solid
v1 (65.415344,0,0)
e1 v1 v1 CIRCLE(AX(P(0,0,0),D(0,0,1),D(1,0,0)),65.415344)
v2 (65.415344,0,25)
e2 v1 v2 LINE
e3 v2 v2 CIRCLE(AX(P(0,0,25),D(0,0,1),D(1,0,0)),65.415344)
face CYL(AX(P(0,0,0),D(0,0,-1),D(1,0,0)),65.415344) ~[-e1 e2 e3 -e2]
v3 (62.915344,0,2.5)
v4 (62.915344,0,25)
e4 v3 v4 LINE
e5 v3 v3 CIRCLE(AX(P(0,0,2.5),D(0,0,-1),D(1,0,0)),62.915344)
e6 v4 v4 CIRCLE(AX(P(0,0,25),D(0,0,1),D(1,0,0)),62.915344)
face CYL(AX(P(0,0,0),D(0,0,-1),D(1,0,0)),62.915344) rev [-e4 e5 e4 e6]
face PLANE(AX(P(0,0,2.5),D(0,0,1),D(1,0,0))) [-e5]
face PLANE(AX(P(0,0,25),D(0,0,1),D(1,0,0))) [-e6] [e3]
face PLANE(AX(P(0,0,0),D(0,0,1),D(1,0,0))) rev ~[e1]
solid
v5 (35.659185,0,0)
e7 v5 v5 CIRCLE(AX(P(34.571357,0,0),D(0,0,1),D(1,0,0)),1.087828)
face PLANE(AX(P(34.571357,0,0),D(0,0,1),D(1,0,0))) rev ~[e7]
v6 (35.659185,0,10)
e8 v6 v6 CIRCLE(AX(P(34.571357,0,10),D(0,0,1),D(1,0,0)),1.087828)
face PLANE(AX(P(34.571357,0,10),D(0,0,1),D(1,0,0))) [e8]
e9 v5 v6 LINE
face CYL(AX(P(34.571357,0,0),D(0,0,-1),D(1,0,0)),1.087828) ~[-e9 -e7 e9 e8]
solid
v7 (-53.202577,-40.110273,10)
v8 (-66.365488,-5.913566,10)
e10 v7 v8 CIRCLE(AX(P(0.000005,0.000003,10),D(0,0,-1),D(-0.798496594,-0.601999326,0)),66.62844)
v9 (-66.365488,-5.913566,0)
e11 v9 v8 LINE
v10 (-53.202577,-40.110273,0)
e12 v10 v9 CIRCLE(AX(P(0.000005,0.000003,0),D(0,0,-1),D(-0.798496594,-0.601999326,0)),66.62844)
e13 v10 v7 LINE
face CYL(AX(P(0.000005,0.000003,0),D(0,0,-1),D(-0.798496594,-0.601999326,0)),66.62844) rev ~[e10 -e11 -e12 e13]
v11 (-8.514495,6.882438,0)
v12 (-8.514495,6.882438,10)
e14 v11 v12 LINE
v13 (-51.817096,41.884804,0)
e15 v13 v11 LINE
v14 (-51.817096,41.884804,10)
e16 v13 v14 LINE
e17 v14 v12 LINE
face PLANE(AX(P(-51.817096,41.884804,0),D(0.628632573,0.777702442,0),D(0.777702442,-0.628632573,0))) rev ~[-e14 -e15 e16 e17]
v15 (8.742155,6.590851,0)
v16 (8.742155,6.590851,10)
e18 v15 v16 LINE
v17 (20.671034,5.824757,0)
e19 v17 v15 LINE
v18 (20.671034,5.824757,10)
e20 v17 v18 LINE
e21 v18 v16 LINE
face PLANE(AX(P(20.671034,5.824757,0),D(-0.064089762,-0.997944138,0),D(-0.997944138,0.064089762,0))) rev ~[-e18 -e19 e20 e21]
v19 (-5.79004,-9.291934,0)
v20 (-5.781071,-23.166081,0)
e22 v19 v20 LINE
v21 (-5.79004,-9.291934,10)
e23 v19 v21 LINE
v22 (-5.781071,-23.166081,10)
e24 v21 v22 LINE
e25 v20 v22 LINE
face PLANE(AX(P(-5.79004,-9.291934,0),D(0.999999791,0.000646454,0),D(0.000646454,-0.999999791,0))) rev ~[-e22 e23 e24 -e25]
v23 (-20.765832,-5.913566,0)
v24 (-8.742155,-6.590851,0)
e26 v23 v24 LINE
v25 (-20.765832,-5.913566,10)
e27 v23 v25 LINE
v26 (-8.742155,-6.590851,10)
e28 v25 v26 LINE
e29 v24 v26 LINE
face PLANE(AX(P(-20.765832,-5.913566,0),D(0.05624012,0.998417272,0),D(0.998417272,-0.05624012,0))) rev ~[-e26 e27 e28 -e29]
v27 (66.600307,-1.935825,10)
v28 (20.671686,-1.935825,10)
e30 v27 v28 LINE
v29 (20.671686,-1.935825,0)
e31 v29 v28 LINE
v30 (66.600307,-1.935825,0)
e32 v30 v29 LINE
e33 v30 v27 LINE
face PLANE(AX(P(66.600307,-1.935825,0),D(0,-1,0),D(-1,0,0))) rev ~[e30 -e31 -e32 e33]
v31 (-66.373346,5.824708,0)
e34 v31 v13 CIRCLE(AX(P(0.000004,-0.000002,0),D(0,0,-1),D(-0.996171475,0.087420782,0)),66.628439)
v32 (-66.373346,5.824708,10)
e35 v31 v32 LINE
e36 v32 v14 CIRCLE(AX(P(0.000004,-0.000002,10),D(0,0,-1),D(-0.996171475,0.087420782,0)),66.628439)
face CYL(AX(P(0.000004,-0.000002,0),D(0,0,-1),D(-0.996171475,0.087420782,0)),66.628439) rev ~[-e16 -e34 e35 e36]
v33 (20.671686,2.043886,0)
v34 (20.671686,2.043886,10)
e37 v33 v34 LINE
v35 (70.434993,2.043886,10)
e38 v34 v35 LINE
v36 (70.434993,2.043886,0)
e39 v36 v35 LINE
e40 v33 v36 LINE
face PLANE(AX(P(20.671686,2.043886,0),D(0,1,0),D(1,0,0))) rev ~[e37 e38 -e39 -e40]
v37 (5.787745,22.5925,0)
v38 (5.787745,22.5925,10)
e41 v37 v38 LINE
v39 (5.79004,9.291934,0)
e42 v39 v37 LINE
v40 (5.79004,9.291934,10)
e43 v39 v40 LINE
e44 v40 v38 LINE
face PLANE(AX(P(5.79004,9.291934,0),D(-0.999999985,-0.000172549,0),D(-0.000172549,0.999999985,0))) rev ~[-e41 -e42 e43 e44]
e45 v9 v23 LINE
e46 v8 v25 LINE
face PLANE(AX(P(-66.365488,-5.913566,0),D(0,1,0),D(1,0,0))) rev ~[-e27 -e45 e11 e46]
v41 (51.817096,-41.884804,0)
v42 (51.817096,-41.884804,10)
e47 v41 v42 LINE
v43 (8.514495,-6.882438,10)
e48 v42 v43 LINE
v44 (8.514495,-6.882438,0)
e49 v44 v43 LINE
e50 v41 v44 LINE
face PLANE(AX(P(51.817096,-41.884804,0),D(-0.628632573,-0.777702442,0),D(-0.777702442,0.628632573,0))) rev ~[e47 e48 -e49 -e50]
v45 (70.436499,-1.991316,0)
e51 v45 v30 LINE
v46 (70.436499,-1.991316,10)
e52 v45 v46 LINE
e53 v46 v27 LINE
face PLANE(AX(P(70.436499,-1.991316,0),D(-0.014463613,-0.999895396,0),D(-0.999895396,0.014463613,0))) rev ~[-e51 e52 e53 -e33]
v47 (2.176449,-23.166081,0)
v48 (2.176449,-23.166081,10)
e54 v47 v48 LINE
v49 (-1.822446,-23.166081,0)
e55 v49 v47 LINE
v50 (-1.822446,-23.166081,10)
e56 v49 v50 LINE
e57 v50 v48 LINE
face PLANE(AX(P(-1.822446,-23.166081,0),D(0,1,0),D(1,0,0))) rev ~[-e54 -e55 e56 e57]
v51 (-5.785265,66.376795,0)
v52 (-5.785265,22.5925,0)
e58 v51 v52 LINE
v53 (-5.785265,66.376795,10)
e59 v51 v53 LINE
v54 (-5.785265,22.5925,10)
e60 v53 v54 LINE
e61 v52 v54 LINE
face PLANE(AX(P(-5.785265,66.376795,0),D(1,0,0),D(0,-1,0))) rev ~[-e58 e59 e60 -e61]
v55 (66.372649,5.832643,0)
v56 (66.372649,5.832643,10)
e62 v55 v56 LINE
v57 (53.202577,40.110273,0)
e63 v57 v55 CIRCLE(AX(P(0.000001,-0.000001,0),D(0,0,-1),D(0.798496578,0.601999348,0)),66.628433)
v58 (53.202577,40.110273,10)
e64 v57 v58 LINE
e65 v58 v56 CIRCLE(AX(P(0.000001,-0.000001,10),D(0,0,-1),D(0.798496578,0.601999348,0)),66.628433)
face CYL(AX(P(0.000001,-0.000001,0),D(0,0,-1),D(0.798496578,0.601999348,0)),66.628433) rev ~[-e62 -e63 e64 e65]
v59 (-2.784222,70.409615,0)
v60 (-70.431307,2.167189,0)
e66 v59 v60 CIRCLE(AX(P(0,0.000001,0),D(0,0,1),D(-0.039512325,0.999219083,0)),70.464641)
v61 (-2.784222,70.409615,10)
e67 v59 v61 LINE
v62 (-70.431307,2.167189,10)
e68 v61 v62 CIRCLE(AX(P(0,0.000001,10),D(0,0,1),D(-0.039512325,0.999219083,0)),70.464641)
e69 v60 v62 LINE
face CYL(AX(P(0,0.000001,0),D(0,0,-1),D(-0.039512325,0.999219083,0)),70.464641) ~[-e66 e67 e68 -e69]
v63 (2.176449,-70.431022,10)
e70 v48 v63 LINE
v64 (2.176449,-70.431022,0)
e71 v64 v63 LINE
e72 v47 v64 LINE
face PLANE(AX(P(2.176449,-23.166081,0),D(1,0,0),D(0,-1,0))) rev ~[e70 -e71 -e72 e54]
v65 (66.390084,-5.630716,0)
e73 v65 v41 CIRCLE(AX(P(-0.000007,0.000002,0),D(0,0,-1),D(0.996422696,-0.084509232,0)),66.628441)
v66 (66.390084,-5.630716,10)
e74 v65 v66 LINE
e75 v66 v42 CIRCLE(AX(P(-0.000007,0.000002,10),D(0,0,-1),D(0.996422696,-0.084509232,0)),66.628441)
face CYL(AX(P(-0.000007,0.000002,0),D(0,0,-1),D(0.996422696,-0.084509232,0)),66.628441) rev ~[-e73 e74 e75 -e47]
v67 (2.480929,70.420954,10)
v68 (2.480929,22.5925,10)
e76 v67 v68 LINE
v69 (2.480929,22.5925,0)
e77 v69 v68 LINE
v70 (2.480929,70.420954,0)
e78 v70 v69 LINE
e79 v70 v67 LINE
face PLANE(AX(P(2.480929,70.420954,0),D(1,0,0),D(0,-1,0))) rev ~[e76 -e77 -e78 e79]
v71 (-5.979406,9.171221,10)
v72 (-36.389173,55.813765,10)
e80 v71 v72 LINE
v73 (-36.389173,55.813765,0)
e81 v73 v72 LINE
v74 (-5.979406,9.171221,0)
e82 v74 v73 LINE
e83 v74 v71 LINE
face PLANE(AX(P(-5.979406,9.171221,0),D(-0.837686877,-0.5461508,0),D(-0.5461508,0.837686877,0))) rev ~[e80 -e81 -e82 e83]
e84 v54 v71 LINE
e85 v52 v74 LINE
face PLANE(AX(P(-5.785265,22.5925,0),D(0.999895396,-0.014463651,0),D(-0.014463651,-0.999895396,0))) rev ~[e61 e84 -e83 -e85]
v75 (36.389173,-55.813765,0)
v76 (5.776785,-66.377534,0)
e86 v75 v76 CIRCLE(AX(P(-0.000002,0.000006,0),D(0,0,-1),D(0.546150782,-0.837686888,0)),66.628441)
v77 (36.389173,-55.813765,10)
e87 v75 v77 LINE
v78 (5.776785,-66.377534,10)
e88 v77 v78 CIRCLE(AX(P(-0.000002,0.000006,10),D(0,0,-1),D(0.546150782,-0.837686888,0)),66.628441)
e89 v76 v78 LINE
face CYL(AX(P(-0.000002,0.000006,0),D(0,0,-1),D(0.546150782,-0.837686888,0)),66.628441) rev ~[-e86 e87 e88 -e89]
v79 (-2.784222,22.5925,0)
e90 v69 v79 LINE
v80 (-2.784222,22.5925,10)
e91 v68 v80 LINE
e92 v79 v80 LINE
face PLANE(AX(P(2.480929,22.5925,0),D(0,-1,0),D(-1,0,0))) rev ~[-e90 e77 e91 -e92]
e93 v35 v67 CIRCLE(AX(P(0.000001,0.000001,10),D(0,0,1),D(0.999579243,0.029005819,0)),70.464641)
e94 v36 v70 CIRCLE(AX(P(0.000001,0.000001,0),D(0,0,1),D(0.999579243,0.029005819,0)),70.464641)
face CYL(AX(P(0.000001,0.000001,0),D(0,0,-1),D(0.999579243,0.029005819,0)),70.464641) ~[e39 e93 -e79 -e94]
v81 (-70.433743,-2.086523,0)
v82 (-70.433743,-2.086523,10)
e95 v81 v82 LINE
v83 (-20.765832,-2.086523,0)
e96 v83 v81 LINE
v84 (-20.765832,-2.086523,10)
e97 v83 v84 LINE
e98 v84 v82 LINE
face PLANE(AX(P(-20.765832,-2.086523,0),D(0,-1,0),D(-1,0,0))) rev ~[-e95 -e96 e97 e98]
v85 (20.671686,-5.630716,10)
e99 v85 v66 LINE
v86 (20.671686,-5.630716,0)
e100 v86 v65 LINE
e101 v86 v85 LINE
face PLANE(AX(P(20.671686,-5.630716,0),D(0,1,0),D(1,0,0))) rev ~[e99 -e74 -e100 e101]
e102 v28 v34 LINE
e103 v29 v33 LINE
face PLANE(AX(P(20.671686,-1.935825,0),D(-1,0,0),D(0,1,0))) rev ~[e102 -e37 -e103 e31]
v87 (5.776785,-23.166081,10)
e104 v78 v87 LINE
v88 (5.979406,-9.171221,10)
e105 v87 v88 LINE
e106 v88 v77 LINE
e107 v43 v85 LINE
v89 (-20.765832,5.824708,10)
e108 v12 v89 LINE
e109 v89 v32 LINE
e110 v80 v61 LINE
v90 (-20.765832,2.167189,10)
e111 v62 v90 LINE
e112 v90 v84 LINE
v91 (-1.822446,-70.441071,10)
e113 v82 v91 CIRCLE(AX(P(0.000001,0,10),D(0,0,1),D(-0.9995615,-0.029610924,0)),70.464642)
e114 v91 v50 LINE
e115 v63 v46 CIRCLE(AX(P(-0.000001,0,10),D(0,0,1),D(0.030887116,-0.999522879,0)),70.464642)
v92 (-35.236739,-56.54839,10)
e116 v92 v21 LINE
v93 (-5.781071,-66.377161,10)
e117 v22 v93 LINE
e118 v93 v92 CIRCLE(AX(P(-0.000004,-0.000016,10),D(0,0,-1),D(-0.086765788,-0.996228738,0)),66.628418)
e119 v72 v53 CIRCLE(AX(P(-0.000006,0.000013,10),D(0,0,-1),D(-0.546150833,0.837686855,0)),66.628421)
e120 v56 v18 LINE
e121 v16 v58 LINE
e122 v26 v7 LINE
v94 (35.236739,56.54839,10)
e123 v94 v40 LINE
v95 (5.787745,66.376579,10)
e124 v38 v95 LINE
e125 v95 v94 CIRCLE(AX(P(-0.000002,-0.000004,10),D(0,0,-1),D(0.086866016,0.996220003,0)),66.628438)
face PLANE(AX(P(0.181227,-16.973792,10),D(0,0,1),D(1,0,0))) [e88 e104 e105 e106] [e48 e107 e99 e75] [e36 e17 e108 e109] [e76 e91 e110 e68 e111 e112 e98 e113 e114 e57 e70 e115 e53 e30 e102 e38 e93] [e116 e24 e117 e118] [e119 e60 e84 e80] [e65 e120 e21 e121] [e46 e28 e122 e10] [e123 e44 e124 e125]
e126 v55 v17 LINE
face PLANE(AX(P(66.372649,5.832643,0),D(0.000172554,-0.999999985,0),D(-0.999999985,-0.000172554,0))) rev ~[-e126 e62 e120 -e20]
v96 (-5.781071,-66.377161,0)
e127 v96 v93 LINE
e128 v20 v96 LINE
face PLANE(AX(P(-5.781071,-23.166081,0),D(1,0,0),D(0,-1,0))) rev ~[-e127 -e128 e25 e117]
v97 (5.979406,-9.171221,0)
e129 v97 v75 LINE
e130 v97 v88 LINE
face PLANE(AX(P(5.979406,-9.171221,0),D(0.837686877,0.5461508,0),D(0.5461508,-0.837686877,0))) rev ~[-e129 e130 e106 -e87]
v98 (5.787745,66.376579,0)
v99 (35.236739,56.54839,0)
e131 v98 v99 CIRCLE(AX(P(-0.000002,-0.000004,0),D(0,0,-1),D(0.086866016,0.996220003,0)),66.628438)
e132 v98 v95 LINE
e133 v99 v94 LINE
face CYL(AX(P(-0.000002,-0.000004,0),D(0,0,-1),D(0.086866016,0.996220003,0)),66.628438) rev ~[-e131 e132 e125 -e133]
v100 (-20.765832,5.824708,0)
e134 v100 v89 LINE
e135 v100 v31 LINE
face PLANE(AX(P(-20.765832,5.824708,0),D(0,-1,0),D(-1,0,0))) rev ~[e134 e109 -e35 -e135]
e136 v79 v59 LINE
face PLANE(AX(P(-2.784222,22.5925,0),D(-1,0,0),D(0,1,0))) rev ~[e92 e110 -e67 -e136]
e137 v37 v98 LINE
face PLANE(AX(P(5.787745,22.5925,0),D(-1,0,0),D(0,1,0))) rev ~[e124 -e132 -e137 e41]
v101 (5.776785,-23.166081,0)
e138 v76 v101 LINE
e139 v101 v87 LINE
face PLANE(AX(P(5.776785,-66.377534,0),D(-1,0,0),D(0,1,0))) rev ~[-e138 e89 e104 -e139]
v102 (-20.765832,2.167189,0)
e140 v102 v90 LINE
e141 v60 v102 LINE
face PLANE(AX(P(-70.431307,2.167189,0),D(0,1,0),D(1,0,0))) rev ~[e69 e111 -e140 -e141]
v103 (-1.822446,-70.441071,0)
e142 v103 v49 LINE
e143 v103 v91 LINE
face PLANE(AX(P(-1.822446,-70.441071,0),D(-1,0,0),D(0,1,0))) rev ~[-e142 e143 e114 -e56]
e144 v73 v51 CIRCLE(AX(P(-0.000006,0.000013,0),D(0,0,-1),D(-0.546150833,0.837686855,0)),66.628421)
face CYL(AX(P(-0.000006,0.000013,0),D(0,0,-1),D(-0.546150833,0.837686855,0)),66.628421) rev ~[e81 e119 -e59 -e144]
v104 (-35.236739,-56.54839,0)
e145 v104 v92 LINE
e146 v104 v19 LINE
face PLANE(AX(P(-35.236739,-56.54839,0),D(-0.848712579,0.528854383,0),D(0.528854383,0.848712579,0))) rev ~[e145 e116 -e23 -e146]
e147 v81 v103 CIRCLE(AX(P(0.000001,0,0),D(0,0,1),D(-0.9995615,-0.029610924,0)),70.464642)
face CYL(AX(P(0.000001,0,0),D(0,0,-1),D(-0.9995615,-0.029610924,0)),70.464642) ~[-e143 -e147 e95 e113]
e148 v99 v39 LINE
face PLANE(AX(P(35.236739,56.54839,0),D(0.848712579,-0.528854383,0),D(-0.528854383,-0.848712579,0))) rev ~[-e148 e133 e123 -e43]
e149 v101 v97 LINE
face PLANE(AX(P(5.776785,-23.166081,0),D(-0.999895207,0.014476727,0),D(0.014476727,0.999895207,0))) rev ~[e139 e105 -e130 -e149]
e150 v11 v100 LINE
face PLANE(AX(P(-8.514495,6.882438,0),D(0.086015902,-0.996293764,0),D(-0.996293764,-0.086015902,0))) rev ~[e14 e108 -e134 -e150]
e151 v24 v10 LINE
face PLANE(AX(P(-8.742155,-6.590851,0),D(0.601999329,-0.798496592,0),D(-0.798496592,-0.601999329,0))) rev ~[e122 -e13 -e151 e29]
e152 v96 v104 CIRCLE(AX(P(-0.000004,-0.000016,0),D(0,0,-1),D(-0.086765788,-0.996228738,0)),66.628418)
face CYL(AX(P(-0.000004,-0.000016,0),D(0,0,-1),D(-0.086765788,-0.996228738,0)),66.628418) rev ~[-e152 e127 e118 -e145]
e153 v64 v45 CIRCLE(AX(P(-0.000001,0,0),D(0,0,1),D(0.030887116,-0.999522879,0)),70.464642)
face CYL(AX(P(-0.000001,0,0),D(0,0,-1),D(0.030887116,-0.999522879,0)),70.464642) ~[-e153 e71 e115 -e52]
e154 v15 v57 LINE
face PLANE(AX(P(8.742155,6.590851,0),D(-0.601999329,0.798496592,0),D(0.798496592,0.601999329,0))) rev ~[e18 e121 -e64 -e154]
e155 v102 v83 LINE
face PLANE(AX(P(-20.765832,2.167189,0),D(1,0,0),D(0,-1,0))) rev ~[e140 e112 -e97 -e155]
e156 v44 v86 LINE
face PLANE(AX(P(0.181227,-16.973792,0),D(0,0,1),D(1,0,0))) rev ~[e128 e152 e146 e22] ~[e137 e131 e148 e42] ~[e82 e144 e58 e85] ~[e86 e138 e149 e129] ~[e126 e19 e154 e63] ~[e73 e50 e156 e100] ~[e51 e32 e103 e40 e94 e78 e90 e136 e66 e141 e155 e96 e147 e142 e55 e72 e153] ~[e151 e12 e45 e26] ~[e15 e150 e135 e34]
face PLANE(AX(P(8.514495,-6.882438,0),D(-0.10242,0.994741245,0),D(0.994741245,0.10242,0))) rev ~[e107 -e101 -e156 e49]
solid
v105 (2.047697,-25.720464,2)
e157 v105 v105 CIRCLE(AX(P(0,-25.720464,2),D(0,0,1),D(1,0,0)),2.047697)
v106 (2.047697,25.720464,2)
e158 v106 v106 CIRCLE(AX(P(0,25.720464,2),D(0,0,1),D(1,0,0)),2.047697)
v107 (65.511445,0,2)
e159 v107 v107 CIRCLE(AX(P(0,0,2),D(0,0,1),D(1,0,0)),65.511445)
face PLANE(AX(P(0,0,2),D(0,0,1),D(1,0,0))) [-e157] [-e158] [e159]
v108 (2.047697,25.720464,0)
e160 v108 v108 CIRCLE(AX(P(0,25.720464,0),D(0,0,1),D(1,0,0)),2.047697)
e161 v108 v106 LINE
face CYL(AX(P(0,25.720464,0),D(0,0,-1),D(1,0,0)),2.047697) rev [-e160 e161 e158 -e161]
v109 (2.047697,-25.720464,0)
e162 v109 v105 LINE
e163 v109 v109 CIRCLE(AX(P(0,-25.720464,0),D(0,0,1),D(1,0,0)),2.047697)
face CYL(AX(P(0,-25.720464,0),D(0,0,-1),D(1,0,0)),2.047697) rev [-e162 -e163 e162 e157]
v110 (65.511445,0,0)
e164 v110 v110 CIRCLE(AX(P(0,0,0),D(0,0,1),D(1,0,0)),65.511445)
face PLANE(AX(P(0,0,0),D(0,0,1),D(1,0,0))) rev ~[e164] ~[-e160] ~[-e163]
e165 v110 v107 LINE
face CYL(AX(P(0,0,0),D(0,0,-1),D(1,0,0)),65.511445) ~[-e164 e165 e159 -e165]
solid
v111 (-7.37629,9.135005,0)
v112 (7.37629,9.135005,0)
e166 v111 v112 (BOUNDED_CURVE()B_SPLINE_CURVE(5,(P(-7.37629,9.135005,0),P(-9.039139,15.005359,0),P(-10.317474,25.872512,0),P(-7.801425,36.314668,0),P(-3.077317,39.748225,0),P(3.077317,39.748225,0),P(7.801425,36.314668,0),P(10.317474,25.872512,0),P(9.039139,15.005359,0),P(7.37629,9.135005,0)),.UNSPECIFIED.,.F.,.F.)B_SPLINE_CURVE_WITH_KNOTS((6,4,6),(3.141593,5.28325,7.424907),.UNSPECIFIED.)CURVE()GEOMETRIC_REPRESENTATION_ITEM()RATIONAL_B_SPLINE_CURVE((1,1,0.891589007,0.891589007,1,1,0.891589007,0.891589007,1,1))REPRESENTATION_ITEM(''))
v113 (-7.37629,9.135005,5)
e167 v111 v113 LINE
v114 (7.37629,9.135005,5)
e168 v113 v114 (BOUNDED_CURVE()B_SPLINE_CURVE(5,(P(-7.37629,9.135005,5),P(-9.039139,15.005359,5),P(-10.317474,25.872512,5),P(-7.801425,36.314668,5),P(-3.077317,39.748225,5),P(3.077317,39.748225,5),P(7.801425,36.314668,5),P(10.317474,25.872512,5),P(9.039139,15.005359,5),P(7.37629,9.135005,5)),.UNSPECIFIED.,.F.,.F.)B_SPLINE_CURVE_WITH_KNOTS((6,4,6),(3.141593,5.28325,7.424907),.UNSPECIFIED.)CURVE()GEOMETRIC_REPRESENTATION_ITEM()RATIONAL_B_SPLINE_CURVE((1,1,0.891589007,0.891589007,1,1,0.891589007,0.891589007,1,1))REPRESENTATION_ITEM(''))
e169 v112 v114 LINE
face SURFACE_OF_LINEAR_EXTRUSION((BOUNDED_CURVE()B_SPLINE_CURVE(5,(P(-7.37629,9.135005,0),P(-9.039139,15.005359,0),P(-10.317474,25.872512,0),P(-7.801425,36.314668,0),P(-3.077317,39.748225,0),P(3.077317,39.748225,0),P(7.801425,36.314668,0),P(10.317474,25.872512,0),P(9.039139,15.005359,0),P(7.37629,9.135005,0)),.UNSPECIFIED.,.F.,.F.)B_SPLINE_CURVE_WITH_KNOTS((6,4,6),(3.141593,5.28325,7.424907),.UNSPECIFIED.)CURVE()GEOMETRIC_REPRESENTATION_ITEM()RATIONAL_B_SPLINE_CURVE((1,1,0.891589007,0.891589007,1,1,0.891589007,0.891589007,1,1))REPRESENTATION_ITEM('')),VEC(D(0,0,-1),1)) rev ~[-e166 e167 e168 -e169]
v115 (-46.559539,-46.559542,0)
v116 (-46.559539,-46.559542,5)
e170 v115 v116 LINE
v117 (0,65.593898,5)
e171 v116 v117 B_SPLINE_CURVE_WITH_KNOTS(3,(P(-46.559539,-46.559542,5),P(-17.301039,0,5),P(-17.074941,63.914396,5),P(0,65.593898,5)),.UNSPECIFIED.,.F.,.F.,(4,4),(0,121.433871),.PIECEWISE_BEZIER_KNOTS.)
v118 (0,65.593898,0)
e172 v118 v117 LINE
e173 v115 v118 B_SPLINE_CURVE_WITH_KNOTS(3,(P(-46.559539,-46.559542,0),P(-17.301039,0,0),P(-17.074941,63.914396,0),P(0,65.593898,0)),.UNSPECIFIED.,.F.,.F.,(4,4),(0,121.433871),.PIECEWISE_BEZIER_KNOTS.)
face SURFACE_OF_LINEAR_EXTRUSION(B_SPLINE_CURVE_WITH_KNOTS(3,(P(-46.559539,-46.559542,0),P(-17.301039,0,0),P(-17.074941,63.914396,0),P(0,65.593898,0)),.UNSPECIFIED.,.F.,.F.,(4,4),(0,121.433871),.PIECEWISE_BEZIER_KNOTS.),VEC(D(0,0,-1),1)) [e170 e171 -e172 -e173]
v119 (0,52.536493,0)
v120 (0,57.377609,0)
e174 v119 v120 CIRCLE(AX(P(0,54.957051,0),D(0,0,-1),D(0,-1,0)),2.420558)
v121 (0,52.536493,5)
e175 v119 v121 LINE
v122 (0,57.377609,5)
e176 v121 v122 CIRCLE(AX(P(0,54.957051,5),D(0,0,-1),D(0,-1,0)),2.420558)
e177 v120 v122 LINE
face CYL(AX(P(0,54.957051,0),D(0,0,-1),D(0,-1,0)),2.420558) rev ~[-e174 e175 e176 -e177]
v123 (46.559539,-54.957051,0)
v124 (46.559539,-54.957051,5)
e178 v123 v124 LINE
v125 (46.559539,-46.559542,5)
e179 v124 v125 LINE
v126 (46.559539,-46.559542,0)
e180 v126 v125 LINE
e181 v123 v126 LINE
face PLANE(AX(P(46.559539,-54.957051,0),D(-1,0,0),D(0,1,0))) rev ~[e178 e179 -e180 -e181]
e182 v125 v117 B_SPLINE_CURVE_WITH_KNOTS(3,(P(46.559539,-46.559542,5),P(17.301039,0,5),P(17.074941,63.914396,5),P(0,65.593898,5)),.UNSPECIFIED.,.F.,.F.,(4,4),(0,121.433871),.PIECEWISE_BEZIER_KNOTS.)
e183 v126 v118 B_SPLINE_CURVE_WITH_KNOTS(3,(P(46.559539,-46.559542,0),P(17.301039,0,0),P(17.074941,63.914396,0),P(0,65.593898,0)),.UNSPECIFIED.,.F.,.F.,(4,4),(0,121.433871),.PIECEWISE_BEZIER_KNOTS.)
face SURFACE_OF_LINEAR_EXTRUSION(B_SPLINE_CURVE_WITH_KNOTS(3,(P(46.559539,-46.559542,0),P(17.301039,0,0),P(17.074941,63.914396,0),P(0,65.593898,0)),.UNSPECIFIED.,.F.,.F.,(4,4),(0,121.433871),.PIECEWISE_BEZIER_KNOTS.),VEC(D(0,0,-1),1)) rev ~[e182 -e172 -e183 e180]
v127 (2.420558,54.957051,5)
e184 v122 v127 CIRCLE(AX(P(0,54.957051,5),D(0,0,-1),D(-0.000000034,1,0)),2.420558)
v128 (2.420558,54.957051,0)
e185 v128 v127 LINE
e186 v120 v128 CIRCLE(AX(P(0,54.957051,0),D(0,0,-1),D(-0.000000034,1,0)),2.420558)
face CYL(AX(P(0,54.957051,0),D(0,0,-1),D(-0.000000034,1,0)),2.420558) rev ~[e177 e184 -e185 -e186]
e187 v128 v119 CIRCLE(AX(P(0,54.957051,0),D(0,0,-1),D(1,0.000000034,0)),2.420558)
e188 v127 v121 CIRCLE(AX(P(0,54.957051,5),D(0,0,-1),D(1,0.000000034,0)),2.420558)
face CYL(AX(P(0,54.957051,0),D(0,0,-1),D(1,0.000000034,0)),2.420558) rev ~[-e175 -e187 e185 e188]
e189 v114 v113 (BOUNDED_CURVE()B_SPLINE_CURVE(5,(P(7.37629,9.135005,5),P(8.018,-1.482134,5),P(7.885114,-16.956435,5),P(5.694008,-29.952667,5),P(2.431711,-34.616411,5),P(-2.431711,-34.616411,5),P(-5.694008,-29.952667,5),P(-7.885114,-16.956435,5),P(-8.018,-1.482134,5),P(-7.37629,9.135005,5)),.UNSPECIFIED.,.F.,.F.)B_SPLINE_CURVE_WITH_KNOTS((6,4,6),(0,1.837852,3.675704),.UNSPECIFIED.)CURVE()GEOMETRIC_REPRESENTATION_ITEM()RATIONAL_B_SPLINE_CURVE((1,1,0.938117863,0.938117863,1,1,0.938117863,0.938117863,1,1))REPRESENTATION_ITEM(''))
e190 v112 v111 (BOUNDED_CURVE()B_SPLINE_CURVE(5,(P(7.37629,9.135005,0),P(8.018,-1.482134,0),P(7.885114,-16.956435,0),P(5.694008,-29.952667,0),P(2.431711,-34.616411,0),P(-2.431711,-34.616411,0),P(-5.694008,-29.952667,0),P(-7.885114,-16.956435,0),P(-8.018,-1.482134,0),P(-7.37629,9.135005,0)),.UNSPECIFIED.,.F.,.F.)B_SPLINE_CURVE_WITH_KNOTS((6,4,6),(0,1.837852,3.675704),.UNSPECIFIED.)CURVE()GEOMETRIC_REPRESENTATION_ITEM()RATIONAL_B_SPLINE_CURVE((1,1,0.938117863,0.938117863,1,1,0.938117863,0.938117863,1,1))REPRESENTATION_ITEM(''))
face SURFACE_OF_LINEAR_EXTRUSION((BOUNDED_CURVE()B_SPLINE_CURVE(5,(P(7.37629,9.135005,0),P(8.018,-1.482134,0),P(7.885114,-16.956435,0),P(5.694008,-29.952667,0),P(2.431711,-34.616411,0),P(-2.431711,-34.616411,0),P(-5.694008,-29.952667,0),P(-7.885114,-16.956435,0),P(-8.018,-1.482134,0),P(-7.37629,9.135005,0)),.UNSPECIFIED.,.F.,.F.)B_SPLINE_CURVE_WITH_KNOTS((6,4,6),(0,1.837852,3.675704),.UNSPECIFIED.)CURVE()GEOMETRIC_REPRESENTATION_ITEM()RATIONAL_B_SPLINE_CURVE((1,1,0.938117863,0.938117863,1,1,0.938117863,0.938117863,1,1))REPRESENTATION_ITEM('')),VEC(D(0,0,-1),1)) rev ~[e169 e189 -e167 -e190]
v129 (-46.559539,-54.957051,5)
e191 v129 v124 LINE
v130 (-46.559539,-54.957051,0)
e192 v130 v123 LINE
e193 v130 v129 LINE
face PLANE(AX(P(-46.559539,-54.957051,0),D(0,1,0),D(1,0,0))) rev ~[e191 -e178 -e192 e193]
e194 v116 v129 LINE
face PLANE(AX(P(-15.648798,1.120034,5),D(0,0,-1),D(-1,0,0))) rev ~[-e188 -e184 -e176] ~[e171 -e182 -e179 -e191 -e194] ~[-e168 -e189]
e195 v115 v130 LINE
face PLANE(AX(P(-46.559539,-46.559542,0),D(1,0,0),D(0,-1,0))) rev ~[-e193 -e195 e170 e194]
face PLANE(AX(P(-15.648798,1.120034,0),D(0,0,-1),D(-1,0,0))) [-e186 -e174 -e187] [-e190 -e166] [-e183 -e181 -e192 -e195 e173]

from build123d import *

# Parameters (mm, degrees)
F1_R     = 65.415344
F2_DEPTH = 25
F3_T     = -2.5
F4_R     = 65.511445
F4_R_2   = 2.047697
F5_DEPTH = 2
F7_DEPTH = 5
F0_W     = 7.06006
F0_H     = 3.979711
F0_R     = 1.087828
F8_DEPTH = 10


with BuildPart() as f2:
    # F1 (on Top) → F2 (new body)
    with BuildSketch(Plane.XY):
        Circle(F1_R)
    extrude(amount=F2_DEPTH)

    # F3
    f3_openings = [f2.faces().sort_by_distance(p)[0] for p in [
        (0, 0, 25),
    ]]
    offset(amount=F3_T, openings=f3_openings)


with BuildPart() as f5:
    # F4 (on Top) → F5 (new body)
    with BuildSketch(Plane.XY):
        Circle(F4_R)
        with Locations((0, -25.720464)):
            Circle(F4_R_2, mode=Mode.SUBTRACT)
        with Locations((0, 25.720464)):
            Circle(F4_R_2, mode=Mode.SUBTRACT)
    extrude(amount=F5_DEPTH)


with BuildPart() as f7:
    # F6 (on Top) → F7 (new body)
    with BuildSketch(Plane.XY):
        with BuildLine():
            add(Edge.make_bspline(
                [(-46.559539, -46.559542), (-17.301039, 0), (-17.074941, 63.914396), (0, 65.593898)],
                knots=[0, 0, 0, 0, 121.433871, 121.433871, 121.433871, 121.433871], degree=3))
            Line((-46.559539, -46.559542), (0, -46.559542))
            Line((0, -46.559542), (0, -34.616411))
            add(Edge.make_bspline(
                [(-7.37629, 9.135005), (-10.020666, -34.616411), (0, -34.616411)],
                knots=[4.445334, 4.445334, 4.445334, 6.283185, 6.283185, 6.283185], degree=2, weights=[1, 0.606674, 1]))
            add(Edge.make_bspline(
                [(0, 39.748225), (-16.047853, 39.748225), (-7.37629, 9.135005)],
                knots=[3.141593, 3.141593, 3.141593, 5.28325, 5.28325, 5.28325], degree=2, weights=[1, 0.479397, 1]))
            Line((0, 39.748225), (0, 52.536493))
            ThreePointArc((0, 52.536493), (-2.420558, 54.957051), (0, 57.377609))
            Line((0, 57.377609), (0, 65.593898))
        make_face()
        Polygon((0, -46.559542), (-46.559539, -46.559542), (-46.559539, -54.957051), (46.559539, -54.957051), (46.559539, -46.559542), align=None)
        with BuildLine():
            Line((0, -34.616411), (0, -46.559542))
            Line((0, -46.559542), (46.559539, -46.559542))
            add(Edge.make_bspline(
                [(46.559539, -46.559542), (17.301039, 0), (17.074941, 63.914396), (0, 65.593898)],
                knots=[0, 0, 0, 0, 121.433871, 121.433871, 121.433871, 121.433871], degree=3))
            Line((0, 65.593898), (0, 57.377609))
            ThreePointArc((0, 57.377609), (1.711593, 56.668644), (2.420558, 54.957051))
            ThreePointArc((2.420558, 54.957051), (1.711593, 53.245458), (0, 52.536493))
            Line((0, 52.536493), (0, 39.748225))
            add(Edge.make_bspline(
                [(7.37629, 9.135005), (16.047853, 39.748225), (0, 39.748225)],
                knots=[0.999935, 0.999935, 0.999935, 3.141593, 3.141593, 3.141593], degree=2, weights=[1, 0.479397, 1]))
            add(Edge.make_bspline(
                [(0, -34.616411), (10.020666, -34.616411), (7.37629, 9.135005)],
                knots=[0, 0, 0, 1.837852, 1.837852, 1.837852], degree=2, weights=[1, 0.606674, 1]))
        make_face()
    extrude(amount=F7_DEPTH)


with BuildPart() as f8:
    # F0 (on Top) → F8 (new body)
    with BuildSketch(Plane.XY):
        with BuildLine():
            Line((-1.822446, -23.166081), (2.176449, -23.166081))
            Line((2.176449, -23.166081), (2.176449, -10.729756))
            ThreePointArc((2.176449, -10.729756), (0.18003, -10.946789), (-1.822446, -10.795521))
            Line((-1.822446, -10.795521), (-1.822446, -23.166081))
        make_face()
        with BuildLine():
            Line((20.671686, 2.043886), (66.597078, 2.043886))
            ThreePointArc((66.597078, 2.043886), (66.511847, 3.939863), (66.372649, 5.832643))
            Line((66.372649, 5.832643), (20.671034, 5.824757))
            Line((20.671034, 5.824757), (20.671686, 2.043886))
        make_face()
        with BuildLine():
            ThreePointArc((-53.202577, -40.110273), (-44.977006, -49.157066), (-35.236739, -56.54839))
            Line((-35.236739, -56.54839), (-5.79004, -9.291934))
            ThreePointArc((-5.79004, -9.291934), (-7.390544, -8.077404), (-8.742155, -6.590851))
            Line((-8.742155, -6.590851), (-53.202577, -40.110273))
        make_face()
        with BuildLine():
            Line((5.787745, 22.5925), (2.480929, 22.5925))
            Line((2.480929, 22.5925), (2.480929, 10.663469))
            ThreePointArc((2.480929, 10.663469), (4.191958, 10.113955), (5.79004, 9.291934))
            Line((5.79004, 9.291934), (5.787745, 22.5925))
        make_face()
        with BuildLine():
            Line((2.176449, -23.166081), (2.176449, -66.592877))
            ThreePointArc((2.176449, -66.592877), (3.978074, -66.509572), (5.776785, -66.377534))
            Line((5.776785, -66.377534), (5.776785, -23.166081))
            Line((5.776785, -23.166081), (2.176449, -23.166081))
        make_face()
        with BuildLine():
            Line((-2.784222, 10.588328), (-2.784222, 22.5925))
            Line((-2.784222, 22.5925), (-5.785265, 22.5925))
            Line((-5.785265, 22.5925), (-5.979406, 9.171221))
            ThreePointArc((-5.979406, 9.171221), (-4.438732, 10.008109), (-2.784222, 10.588328))
        make_face()
        with BuildLine():
            Line((2.176449, -10.729756), (2.176449, -23.166081))
            Line((2.176449, -23.166081), (5.776785, -23.166081))
            Line((5.776785, -23.166081), (5.979406, -9.171221))
            ThreePointArc((5.979406, -9.171221), (4.151716, -10.13054), (2.176449, -10.729756))
        make_face()
        with BuildLine():
            Line((-5.979406, 9.171221), (-36.389173, 55.813765))
            ThreePointArc((-36.389173, 55.813765), (-44.649641, 49.454603), (-51.817096, 41.884804))
            Line((-51.817096, 41.884804), (-8.514495, 6.882438))
            ThreePointArc((-8.514495, 6.882438), (-7.336752, 8.126295), (-5.979406, 9.171221))
        make_face()
        with BuildLine():
            ThreePointArc((-5.781071, -66.377161), (-3.803442, -66.519787), (-1.822446, -66.603505))
            Line((-1.822446, -66.603505), (-1.822446, -23.166081))
            Line((-1.822446, -23.166081), (-5.781071, -23.166081))
            Line((-5.781071, -23.166081), (-5.781071, -66.377161))
        make_face()
        with BuildLine():
            ThreePointArc((-66.373346, 5.824708), (-66.50841, 3.99746), (-66.593179, 2.167189))
            Line((-66.593179, 2.167189), (-20.765832, 2.167189))
            Line((-20.765832, 2.167189), (-20.765832, 5.824708))
            Line((-20.765832, 5.824708), (-66.373346, 5.824708))
        make_face()
        with BuildLine():
            ThreePointArc((36.389173, -55.813765), (44.649641, -49.454603), (51.817096, -41.884804))
            Line((51.817096, -41.884804), (8.514495, -6.882438))
            ThreePointArc((8.514495, -6.882438), (7.336752, -8.126295), (5.979406, -9.171221))
            Line((5.979406, -9.171221), (36.389173, -55.813765))
        make_face()
        with BuildLine():
            Line((-5.781071, -23.166081), (-1.822446, -23.166081))
            Line((-1.822446, -23.166081), (-1.822446, -10.795521))
            ThreePointArc((-1.822446, -10.795521), (-3.879778, -10.237769), (-5.79004, -9.291934))
            Line((-5.79004, -9.291934), (-5.781071, -23.166081))
        make_face()
        with BuildLine():
            Line((-20.765832, 5.824708), (-20.765832, 2.167189))
            Line((-20.765832, 2.167189), (-10.73163, 2.167189))
            ThreePointArc((-10.73163, 2.167189), (-9.90766, 4.658633), (-8.514495, 6.882438))
            Line((-8.514495, 6.882438), (-20.765832, 5.824708))
        make_face()
        with BuildLine():
            Line((20.671686, -1.935825), (20.671686, 2.043886))
            Line((20.671686, 2.043886), (10.755795, 2.043886))
            ThreePointArc((10.755795, 2.043886), (10.900044, 1.026465), (10.948269, 0))
            ThreePointArc((10.948269, 0), (10.905058, -0.971748), (10.775768, -1.935825))
            Line((10.775768, -1.935825), (20.671686, -1.935825))
        make_face()
        with BuildLine():
            ThreePointArc((2.176449, -70.431022), (49.891466, -49.7605), (70.436499, -1.991316))
            Line((70.436499, -1.991316), (66.600307, -1.935825))
            ThreePointArc((66.600307, -1.935825), (66.520854, -3.784731), (66.390084, -5.630716))
            ThreePointArc((66.390084, -5.630716), (61.820903, -24.850033), (51.817096, -41.884804))
            ThreePointArc((51.817096, -41.884804), (44.649641, -49.454603), (36.389173, -55.813765))
            ThreePointArc((36.389173, -55.813765), (21.734542, -62.983791), (5.776785, -66.377534))
            ThreePointArc((5.776785, -66.377534), (3.978074, -66.509572), (2.176449, -66.592877))
            Line((2.176449, -66.592877), (2.176449, -70.431022))
        make_face()
        with BuildLine():
            Line((-2.784222, 66.570236), (-2.784222, 70.409615))
            ThreePointArc((-2.784222, 70.409615), (-50.043837, 49.607259), (-70.431307, 2.167189))
            Line((-70.431307, 2.167189), (-66.593179, 2.167189))
            ThreePointArc((-66.593179, 2.167189), (-66.50841, 3.99746), (-66.373346, 5.824708))
            ThreePointArc((-66.373346, 5.824708), (-61.784527, 24.940338), (-51.817096, 41.884804))
            ThreePointArc((-51.817096, 41.884804), (-44.649641, 49.454603), (-36.389173, 55.813765))
            ThreePointArc((-36.389173, 55.813765), (-21.738565, 62.982403), (-5.785265, 66.376795))
            ThreePointArc((-5.785265, 66.376795), (-4.285835, 66.490449), (-2.784222, 66.570236))
        make_face()
        with BuildLine():
            Line((8.742155, 6.590851), (53.202577, 40.110273))
            ThreePointArc((53.202577, 40.110273), (44.977006, 49.157066), (35.236739, 56.54839))
            Line((35.236739, 56.54839), (5.79004, 9.291934))
            ThreePointArc((5.79004, 9.291934), (7.390544, 8.077404), (8.742155, 6.590851))
        make_face()
        with BuildLine():
            Line((-10.73163, 2.167189), (-20.765832, 2.167189))
            Line((-20.765832, 2.167189), (-20.765832, -2.086523))
            Line((-20.765832, -2.086523), (-10.747605, -2.086523))
            ThreePointArc((-10.747605, -2.086523), (-10.948192, 0.041116), (-10.73163, 2.167189))
        make_face()
        with BuildLine():
            ThreePointArc((10.948269, 0), (10.900044, 1.026465), (10.755795, 2.043886))
            ThreePointArc((10.755795, 2.043886), (10.010556, 4.433211), (8.742155, 6.590851))
            ThreePointArc((8.742155, 6.590851), (7.390544, 8.077404), (5.79004, 9.291934))
            ThreePointArc((5.79004, 9.291934), (4.191958, 10.113955), (2.480929, 10.663469))
            ThreePointArc((2.480929, 10.663469), (-0.156231, 10.947154), (-2.784222, 10.588328))
            ThreePointArc((-2.784222, 10.588328), (-4.438732, 10.008109), (-5.979406, 9.171221))
            ThreePointArc((-5.979406, 9.171221), (-7.336752, 8.126295), (-8.514495, 6.882438))
            ThreePointArc((-8.514495, 6.882438), (-9.90766, 4.658633), (-10.73163, 2.167189))
            ThreePointArc((-10.73163, 2.167189), (-10.948192, 0.041116), (-10.747605, -2.086523))
            ThreePointArc((-10.747605, -2.086523), (-10.001746, -4.453051), (-8.742155, -6.590851))
            ThreePointArc((-8.742155, -6.590851), (-7.390544, -8.077404), (-5.79004, -9.291934))
            ThreePointArc((-5.79004, -9.291934), (-3.879778, -10.237769), (-1.822446, -10.795521))
            ThreePointArc((-1.822446, -10.795521), (0.18003, -10.946789), (2.176449, -10.729756))
            ThreePointArc((2.176449, -10.729756), (4.151716, -10.13054), (5.979406, -9.171221))
            ThreePointArc((5.979406, -9.171221), (7.336752, -8.126295), (8.514495, -6.882438))
            ThreePointArc((8.514495, -6.882438), (9.957199, -4.551789), (10.775768, -1.935825))
            ThreePointArc((10.775768, -1.935825), (10.905058, -0.971748), (10.948269, 0))
        make_face()
        with Locations((0.07282, 0.054031)):
            Rectangle(F0_W, F0_H, mode=Mode.SUBTRACT)
        with BuildLine():
            Line((10.755795, 2.043886), (20.671686, 2.043886))
            Line((20.671686, 2.043886), (20.671034, 5.824757))
            Line((20.671034, 5.824757), (8.742155, 6.590851))
            ThreePointArc((8.742155, 6.590851), (10.010556, 4.433211), (10.755795, 2.043886))
        make_face()
        with BuildLine():
            Line((2.480929, 10.663469), (2.480929, 22.5925))
            Line((2.480929, 22.5925), (-2.784222, 22.5925))
            Line((-2.784222, 22.5925), (-2.784222, 10.588328))
            ThreePointArc((-2.784222, 10.588328), (-0.156231, 10.947154), (2.480929, 10.663469))
        make_face()
        with BuildLine():
            ThreePointArc((-70.433743, -2.086523), (-49.732537, -49.91934), (-1.822446, -70.441071))
            Line((-1.822446, -70.441071), (-1.822446, -66.603505))
            ThreePointArc((-1.822446, -66.603505), (-3.803442, -66.519787), (-5.781071, -66.377161))
            ThreePointArc((-5.781071, -66.377161), (-21.089485, -63.202705), (-35.236739, -56.54839))
            ThreePointArc((-35.236739, -56.54839), (-44.977006, -49.157066), (-53.202577, -40.110273))
            ThreePointArc((-53.202577, -40.110273), (-62.18106, -23.934577), (-66.365488, -5.913566))
            ThreePointArc((-66.365488, -5.913566), (-66.508155, -4.001701), (-66.595756, -2.086523))
            Line((-66.595756, -2.086523), (-70.433743, -2.086523))
        make_face()
        with BuildLine():
            ThreePointArc((5.787745, 66.376579), (4.135616, 66.499962), (2.480929, 66.582229))
            Line((2.480929, 66.582229), (2.480929, 22.5925))
            Line((2.480929, 22.5925), (5.787745, 22.5925))
            Line((5.787745, 22.5925), (5.787745, 66.376579))
        make_face()
        with BuildLine():
            Line((66.597078, 2.043886), (70.434993, 2.043886))
            ThreePointArc((70.434993, 2.043886), (49.980384, 49.671189), (2.480929, 70.420954))
            Line((2.480929, 70.420954), (2.480929, 66.582229))
            ThreePointArc((2.480929, 66.582229), (4.135616, 66.499962), (5.787745, 66.376579))
            ThreePointArc((5.787745, 66.376579), (21.092662, 63.201644), (35.236739, 56.54839))
            ThreePointArc((35.236739, 56.54839), (44.977006, 49.157066), (53.202577, 40.110273))
            ThreePointArc((53.202577, 40.110273), (62.19564, 23.896665), (66.372649, 5.832643))
            ThreePointArc((66.372649, 5.832643), (66.511847, 3.939863), (66.597078, 2.043886))
        make_face()
        with BuildLine():
            Line((-2.784222, 22.5925), (-2.784222, 66.570236))
            ThreePointArc((-2.784222, 66.570236), (-4.285835, 66.490449), (-5.785265, 66.376795))
            Line((-5.785265, 66.376795), (-5.785265, 22.5925))
            Line((-5.785265, 22.5925), (-2.784222, 22.5925))
        make_face()
        with Locations((0.07282, 0.054031)):
            Rectangle(F0_W, F0_H)
        with BuildLine():
            Line((-20.765832, -2.086523), (-66.595756, -2.086523))
            ThreePointArc((-66.595756, -2.086523), (-66.508155, -4.001701), (-66.365488, -5.913566))
            Line((-66.365488, -5.913566), (-20.765832, -5.913566))
            Line((-20.765832, -5.913566), (-20.765832, -2.086523))
        make_face()
        with BuildLine():
            ThreePointArc((66.390084, -5.630716), (66.520854, -3.784731), (66.600307, -1.935825))
            Line((66.600307, -1.935825), (20.671686, -1.935825))
            Line((20.671686, -1.935825), (20.671686, -5.630716))
            Line((20.671686, -5.630716), (66.390084, -5.630716))
        make_face()
        with BuildLine():
            Line((-10.747605, -2.086523), (-20.765832, -2.086523))
            Line((-20.765832, -2.086523), (-20.765832, -5.913566))
            Line((-20.765832, -5.913566), (-8.742155, -6.590851))
            ThreePointArc((-8.742155, -6.590851), (-10.001746, -4.453051), (-10.747605, -2.086523))
        make_face()
        with BuildLine():
            Line((20.671686, -5.630716), (20.671686, -1.935825))
            Line((20.671686, -1.935825), (10.775768, -1.935825))
            ThreePointArc((10.775768, -1.935825), (9.957199, -4.551789), (8.514495, -6.882438))
            Line((8.514495, -6.882438), (20.671686, -5.630716))
        make_face()
        with Locations((34.571357, 0)):
            Circle(F0_R)
    extrude(amount=F8_DEPTH)


solid = Compound([f2.part, f5.part, f7.part, f8.part])
